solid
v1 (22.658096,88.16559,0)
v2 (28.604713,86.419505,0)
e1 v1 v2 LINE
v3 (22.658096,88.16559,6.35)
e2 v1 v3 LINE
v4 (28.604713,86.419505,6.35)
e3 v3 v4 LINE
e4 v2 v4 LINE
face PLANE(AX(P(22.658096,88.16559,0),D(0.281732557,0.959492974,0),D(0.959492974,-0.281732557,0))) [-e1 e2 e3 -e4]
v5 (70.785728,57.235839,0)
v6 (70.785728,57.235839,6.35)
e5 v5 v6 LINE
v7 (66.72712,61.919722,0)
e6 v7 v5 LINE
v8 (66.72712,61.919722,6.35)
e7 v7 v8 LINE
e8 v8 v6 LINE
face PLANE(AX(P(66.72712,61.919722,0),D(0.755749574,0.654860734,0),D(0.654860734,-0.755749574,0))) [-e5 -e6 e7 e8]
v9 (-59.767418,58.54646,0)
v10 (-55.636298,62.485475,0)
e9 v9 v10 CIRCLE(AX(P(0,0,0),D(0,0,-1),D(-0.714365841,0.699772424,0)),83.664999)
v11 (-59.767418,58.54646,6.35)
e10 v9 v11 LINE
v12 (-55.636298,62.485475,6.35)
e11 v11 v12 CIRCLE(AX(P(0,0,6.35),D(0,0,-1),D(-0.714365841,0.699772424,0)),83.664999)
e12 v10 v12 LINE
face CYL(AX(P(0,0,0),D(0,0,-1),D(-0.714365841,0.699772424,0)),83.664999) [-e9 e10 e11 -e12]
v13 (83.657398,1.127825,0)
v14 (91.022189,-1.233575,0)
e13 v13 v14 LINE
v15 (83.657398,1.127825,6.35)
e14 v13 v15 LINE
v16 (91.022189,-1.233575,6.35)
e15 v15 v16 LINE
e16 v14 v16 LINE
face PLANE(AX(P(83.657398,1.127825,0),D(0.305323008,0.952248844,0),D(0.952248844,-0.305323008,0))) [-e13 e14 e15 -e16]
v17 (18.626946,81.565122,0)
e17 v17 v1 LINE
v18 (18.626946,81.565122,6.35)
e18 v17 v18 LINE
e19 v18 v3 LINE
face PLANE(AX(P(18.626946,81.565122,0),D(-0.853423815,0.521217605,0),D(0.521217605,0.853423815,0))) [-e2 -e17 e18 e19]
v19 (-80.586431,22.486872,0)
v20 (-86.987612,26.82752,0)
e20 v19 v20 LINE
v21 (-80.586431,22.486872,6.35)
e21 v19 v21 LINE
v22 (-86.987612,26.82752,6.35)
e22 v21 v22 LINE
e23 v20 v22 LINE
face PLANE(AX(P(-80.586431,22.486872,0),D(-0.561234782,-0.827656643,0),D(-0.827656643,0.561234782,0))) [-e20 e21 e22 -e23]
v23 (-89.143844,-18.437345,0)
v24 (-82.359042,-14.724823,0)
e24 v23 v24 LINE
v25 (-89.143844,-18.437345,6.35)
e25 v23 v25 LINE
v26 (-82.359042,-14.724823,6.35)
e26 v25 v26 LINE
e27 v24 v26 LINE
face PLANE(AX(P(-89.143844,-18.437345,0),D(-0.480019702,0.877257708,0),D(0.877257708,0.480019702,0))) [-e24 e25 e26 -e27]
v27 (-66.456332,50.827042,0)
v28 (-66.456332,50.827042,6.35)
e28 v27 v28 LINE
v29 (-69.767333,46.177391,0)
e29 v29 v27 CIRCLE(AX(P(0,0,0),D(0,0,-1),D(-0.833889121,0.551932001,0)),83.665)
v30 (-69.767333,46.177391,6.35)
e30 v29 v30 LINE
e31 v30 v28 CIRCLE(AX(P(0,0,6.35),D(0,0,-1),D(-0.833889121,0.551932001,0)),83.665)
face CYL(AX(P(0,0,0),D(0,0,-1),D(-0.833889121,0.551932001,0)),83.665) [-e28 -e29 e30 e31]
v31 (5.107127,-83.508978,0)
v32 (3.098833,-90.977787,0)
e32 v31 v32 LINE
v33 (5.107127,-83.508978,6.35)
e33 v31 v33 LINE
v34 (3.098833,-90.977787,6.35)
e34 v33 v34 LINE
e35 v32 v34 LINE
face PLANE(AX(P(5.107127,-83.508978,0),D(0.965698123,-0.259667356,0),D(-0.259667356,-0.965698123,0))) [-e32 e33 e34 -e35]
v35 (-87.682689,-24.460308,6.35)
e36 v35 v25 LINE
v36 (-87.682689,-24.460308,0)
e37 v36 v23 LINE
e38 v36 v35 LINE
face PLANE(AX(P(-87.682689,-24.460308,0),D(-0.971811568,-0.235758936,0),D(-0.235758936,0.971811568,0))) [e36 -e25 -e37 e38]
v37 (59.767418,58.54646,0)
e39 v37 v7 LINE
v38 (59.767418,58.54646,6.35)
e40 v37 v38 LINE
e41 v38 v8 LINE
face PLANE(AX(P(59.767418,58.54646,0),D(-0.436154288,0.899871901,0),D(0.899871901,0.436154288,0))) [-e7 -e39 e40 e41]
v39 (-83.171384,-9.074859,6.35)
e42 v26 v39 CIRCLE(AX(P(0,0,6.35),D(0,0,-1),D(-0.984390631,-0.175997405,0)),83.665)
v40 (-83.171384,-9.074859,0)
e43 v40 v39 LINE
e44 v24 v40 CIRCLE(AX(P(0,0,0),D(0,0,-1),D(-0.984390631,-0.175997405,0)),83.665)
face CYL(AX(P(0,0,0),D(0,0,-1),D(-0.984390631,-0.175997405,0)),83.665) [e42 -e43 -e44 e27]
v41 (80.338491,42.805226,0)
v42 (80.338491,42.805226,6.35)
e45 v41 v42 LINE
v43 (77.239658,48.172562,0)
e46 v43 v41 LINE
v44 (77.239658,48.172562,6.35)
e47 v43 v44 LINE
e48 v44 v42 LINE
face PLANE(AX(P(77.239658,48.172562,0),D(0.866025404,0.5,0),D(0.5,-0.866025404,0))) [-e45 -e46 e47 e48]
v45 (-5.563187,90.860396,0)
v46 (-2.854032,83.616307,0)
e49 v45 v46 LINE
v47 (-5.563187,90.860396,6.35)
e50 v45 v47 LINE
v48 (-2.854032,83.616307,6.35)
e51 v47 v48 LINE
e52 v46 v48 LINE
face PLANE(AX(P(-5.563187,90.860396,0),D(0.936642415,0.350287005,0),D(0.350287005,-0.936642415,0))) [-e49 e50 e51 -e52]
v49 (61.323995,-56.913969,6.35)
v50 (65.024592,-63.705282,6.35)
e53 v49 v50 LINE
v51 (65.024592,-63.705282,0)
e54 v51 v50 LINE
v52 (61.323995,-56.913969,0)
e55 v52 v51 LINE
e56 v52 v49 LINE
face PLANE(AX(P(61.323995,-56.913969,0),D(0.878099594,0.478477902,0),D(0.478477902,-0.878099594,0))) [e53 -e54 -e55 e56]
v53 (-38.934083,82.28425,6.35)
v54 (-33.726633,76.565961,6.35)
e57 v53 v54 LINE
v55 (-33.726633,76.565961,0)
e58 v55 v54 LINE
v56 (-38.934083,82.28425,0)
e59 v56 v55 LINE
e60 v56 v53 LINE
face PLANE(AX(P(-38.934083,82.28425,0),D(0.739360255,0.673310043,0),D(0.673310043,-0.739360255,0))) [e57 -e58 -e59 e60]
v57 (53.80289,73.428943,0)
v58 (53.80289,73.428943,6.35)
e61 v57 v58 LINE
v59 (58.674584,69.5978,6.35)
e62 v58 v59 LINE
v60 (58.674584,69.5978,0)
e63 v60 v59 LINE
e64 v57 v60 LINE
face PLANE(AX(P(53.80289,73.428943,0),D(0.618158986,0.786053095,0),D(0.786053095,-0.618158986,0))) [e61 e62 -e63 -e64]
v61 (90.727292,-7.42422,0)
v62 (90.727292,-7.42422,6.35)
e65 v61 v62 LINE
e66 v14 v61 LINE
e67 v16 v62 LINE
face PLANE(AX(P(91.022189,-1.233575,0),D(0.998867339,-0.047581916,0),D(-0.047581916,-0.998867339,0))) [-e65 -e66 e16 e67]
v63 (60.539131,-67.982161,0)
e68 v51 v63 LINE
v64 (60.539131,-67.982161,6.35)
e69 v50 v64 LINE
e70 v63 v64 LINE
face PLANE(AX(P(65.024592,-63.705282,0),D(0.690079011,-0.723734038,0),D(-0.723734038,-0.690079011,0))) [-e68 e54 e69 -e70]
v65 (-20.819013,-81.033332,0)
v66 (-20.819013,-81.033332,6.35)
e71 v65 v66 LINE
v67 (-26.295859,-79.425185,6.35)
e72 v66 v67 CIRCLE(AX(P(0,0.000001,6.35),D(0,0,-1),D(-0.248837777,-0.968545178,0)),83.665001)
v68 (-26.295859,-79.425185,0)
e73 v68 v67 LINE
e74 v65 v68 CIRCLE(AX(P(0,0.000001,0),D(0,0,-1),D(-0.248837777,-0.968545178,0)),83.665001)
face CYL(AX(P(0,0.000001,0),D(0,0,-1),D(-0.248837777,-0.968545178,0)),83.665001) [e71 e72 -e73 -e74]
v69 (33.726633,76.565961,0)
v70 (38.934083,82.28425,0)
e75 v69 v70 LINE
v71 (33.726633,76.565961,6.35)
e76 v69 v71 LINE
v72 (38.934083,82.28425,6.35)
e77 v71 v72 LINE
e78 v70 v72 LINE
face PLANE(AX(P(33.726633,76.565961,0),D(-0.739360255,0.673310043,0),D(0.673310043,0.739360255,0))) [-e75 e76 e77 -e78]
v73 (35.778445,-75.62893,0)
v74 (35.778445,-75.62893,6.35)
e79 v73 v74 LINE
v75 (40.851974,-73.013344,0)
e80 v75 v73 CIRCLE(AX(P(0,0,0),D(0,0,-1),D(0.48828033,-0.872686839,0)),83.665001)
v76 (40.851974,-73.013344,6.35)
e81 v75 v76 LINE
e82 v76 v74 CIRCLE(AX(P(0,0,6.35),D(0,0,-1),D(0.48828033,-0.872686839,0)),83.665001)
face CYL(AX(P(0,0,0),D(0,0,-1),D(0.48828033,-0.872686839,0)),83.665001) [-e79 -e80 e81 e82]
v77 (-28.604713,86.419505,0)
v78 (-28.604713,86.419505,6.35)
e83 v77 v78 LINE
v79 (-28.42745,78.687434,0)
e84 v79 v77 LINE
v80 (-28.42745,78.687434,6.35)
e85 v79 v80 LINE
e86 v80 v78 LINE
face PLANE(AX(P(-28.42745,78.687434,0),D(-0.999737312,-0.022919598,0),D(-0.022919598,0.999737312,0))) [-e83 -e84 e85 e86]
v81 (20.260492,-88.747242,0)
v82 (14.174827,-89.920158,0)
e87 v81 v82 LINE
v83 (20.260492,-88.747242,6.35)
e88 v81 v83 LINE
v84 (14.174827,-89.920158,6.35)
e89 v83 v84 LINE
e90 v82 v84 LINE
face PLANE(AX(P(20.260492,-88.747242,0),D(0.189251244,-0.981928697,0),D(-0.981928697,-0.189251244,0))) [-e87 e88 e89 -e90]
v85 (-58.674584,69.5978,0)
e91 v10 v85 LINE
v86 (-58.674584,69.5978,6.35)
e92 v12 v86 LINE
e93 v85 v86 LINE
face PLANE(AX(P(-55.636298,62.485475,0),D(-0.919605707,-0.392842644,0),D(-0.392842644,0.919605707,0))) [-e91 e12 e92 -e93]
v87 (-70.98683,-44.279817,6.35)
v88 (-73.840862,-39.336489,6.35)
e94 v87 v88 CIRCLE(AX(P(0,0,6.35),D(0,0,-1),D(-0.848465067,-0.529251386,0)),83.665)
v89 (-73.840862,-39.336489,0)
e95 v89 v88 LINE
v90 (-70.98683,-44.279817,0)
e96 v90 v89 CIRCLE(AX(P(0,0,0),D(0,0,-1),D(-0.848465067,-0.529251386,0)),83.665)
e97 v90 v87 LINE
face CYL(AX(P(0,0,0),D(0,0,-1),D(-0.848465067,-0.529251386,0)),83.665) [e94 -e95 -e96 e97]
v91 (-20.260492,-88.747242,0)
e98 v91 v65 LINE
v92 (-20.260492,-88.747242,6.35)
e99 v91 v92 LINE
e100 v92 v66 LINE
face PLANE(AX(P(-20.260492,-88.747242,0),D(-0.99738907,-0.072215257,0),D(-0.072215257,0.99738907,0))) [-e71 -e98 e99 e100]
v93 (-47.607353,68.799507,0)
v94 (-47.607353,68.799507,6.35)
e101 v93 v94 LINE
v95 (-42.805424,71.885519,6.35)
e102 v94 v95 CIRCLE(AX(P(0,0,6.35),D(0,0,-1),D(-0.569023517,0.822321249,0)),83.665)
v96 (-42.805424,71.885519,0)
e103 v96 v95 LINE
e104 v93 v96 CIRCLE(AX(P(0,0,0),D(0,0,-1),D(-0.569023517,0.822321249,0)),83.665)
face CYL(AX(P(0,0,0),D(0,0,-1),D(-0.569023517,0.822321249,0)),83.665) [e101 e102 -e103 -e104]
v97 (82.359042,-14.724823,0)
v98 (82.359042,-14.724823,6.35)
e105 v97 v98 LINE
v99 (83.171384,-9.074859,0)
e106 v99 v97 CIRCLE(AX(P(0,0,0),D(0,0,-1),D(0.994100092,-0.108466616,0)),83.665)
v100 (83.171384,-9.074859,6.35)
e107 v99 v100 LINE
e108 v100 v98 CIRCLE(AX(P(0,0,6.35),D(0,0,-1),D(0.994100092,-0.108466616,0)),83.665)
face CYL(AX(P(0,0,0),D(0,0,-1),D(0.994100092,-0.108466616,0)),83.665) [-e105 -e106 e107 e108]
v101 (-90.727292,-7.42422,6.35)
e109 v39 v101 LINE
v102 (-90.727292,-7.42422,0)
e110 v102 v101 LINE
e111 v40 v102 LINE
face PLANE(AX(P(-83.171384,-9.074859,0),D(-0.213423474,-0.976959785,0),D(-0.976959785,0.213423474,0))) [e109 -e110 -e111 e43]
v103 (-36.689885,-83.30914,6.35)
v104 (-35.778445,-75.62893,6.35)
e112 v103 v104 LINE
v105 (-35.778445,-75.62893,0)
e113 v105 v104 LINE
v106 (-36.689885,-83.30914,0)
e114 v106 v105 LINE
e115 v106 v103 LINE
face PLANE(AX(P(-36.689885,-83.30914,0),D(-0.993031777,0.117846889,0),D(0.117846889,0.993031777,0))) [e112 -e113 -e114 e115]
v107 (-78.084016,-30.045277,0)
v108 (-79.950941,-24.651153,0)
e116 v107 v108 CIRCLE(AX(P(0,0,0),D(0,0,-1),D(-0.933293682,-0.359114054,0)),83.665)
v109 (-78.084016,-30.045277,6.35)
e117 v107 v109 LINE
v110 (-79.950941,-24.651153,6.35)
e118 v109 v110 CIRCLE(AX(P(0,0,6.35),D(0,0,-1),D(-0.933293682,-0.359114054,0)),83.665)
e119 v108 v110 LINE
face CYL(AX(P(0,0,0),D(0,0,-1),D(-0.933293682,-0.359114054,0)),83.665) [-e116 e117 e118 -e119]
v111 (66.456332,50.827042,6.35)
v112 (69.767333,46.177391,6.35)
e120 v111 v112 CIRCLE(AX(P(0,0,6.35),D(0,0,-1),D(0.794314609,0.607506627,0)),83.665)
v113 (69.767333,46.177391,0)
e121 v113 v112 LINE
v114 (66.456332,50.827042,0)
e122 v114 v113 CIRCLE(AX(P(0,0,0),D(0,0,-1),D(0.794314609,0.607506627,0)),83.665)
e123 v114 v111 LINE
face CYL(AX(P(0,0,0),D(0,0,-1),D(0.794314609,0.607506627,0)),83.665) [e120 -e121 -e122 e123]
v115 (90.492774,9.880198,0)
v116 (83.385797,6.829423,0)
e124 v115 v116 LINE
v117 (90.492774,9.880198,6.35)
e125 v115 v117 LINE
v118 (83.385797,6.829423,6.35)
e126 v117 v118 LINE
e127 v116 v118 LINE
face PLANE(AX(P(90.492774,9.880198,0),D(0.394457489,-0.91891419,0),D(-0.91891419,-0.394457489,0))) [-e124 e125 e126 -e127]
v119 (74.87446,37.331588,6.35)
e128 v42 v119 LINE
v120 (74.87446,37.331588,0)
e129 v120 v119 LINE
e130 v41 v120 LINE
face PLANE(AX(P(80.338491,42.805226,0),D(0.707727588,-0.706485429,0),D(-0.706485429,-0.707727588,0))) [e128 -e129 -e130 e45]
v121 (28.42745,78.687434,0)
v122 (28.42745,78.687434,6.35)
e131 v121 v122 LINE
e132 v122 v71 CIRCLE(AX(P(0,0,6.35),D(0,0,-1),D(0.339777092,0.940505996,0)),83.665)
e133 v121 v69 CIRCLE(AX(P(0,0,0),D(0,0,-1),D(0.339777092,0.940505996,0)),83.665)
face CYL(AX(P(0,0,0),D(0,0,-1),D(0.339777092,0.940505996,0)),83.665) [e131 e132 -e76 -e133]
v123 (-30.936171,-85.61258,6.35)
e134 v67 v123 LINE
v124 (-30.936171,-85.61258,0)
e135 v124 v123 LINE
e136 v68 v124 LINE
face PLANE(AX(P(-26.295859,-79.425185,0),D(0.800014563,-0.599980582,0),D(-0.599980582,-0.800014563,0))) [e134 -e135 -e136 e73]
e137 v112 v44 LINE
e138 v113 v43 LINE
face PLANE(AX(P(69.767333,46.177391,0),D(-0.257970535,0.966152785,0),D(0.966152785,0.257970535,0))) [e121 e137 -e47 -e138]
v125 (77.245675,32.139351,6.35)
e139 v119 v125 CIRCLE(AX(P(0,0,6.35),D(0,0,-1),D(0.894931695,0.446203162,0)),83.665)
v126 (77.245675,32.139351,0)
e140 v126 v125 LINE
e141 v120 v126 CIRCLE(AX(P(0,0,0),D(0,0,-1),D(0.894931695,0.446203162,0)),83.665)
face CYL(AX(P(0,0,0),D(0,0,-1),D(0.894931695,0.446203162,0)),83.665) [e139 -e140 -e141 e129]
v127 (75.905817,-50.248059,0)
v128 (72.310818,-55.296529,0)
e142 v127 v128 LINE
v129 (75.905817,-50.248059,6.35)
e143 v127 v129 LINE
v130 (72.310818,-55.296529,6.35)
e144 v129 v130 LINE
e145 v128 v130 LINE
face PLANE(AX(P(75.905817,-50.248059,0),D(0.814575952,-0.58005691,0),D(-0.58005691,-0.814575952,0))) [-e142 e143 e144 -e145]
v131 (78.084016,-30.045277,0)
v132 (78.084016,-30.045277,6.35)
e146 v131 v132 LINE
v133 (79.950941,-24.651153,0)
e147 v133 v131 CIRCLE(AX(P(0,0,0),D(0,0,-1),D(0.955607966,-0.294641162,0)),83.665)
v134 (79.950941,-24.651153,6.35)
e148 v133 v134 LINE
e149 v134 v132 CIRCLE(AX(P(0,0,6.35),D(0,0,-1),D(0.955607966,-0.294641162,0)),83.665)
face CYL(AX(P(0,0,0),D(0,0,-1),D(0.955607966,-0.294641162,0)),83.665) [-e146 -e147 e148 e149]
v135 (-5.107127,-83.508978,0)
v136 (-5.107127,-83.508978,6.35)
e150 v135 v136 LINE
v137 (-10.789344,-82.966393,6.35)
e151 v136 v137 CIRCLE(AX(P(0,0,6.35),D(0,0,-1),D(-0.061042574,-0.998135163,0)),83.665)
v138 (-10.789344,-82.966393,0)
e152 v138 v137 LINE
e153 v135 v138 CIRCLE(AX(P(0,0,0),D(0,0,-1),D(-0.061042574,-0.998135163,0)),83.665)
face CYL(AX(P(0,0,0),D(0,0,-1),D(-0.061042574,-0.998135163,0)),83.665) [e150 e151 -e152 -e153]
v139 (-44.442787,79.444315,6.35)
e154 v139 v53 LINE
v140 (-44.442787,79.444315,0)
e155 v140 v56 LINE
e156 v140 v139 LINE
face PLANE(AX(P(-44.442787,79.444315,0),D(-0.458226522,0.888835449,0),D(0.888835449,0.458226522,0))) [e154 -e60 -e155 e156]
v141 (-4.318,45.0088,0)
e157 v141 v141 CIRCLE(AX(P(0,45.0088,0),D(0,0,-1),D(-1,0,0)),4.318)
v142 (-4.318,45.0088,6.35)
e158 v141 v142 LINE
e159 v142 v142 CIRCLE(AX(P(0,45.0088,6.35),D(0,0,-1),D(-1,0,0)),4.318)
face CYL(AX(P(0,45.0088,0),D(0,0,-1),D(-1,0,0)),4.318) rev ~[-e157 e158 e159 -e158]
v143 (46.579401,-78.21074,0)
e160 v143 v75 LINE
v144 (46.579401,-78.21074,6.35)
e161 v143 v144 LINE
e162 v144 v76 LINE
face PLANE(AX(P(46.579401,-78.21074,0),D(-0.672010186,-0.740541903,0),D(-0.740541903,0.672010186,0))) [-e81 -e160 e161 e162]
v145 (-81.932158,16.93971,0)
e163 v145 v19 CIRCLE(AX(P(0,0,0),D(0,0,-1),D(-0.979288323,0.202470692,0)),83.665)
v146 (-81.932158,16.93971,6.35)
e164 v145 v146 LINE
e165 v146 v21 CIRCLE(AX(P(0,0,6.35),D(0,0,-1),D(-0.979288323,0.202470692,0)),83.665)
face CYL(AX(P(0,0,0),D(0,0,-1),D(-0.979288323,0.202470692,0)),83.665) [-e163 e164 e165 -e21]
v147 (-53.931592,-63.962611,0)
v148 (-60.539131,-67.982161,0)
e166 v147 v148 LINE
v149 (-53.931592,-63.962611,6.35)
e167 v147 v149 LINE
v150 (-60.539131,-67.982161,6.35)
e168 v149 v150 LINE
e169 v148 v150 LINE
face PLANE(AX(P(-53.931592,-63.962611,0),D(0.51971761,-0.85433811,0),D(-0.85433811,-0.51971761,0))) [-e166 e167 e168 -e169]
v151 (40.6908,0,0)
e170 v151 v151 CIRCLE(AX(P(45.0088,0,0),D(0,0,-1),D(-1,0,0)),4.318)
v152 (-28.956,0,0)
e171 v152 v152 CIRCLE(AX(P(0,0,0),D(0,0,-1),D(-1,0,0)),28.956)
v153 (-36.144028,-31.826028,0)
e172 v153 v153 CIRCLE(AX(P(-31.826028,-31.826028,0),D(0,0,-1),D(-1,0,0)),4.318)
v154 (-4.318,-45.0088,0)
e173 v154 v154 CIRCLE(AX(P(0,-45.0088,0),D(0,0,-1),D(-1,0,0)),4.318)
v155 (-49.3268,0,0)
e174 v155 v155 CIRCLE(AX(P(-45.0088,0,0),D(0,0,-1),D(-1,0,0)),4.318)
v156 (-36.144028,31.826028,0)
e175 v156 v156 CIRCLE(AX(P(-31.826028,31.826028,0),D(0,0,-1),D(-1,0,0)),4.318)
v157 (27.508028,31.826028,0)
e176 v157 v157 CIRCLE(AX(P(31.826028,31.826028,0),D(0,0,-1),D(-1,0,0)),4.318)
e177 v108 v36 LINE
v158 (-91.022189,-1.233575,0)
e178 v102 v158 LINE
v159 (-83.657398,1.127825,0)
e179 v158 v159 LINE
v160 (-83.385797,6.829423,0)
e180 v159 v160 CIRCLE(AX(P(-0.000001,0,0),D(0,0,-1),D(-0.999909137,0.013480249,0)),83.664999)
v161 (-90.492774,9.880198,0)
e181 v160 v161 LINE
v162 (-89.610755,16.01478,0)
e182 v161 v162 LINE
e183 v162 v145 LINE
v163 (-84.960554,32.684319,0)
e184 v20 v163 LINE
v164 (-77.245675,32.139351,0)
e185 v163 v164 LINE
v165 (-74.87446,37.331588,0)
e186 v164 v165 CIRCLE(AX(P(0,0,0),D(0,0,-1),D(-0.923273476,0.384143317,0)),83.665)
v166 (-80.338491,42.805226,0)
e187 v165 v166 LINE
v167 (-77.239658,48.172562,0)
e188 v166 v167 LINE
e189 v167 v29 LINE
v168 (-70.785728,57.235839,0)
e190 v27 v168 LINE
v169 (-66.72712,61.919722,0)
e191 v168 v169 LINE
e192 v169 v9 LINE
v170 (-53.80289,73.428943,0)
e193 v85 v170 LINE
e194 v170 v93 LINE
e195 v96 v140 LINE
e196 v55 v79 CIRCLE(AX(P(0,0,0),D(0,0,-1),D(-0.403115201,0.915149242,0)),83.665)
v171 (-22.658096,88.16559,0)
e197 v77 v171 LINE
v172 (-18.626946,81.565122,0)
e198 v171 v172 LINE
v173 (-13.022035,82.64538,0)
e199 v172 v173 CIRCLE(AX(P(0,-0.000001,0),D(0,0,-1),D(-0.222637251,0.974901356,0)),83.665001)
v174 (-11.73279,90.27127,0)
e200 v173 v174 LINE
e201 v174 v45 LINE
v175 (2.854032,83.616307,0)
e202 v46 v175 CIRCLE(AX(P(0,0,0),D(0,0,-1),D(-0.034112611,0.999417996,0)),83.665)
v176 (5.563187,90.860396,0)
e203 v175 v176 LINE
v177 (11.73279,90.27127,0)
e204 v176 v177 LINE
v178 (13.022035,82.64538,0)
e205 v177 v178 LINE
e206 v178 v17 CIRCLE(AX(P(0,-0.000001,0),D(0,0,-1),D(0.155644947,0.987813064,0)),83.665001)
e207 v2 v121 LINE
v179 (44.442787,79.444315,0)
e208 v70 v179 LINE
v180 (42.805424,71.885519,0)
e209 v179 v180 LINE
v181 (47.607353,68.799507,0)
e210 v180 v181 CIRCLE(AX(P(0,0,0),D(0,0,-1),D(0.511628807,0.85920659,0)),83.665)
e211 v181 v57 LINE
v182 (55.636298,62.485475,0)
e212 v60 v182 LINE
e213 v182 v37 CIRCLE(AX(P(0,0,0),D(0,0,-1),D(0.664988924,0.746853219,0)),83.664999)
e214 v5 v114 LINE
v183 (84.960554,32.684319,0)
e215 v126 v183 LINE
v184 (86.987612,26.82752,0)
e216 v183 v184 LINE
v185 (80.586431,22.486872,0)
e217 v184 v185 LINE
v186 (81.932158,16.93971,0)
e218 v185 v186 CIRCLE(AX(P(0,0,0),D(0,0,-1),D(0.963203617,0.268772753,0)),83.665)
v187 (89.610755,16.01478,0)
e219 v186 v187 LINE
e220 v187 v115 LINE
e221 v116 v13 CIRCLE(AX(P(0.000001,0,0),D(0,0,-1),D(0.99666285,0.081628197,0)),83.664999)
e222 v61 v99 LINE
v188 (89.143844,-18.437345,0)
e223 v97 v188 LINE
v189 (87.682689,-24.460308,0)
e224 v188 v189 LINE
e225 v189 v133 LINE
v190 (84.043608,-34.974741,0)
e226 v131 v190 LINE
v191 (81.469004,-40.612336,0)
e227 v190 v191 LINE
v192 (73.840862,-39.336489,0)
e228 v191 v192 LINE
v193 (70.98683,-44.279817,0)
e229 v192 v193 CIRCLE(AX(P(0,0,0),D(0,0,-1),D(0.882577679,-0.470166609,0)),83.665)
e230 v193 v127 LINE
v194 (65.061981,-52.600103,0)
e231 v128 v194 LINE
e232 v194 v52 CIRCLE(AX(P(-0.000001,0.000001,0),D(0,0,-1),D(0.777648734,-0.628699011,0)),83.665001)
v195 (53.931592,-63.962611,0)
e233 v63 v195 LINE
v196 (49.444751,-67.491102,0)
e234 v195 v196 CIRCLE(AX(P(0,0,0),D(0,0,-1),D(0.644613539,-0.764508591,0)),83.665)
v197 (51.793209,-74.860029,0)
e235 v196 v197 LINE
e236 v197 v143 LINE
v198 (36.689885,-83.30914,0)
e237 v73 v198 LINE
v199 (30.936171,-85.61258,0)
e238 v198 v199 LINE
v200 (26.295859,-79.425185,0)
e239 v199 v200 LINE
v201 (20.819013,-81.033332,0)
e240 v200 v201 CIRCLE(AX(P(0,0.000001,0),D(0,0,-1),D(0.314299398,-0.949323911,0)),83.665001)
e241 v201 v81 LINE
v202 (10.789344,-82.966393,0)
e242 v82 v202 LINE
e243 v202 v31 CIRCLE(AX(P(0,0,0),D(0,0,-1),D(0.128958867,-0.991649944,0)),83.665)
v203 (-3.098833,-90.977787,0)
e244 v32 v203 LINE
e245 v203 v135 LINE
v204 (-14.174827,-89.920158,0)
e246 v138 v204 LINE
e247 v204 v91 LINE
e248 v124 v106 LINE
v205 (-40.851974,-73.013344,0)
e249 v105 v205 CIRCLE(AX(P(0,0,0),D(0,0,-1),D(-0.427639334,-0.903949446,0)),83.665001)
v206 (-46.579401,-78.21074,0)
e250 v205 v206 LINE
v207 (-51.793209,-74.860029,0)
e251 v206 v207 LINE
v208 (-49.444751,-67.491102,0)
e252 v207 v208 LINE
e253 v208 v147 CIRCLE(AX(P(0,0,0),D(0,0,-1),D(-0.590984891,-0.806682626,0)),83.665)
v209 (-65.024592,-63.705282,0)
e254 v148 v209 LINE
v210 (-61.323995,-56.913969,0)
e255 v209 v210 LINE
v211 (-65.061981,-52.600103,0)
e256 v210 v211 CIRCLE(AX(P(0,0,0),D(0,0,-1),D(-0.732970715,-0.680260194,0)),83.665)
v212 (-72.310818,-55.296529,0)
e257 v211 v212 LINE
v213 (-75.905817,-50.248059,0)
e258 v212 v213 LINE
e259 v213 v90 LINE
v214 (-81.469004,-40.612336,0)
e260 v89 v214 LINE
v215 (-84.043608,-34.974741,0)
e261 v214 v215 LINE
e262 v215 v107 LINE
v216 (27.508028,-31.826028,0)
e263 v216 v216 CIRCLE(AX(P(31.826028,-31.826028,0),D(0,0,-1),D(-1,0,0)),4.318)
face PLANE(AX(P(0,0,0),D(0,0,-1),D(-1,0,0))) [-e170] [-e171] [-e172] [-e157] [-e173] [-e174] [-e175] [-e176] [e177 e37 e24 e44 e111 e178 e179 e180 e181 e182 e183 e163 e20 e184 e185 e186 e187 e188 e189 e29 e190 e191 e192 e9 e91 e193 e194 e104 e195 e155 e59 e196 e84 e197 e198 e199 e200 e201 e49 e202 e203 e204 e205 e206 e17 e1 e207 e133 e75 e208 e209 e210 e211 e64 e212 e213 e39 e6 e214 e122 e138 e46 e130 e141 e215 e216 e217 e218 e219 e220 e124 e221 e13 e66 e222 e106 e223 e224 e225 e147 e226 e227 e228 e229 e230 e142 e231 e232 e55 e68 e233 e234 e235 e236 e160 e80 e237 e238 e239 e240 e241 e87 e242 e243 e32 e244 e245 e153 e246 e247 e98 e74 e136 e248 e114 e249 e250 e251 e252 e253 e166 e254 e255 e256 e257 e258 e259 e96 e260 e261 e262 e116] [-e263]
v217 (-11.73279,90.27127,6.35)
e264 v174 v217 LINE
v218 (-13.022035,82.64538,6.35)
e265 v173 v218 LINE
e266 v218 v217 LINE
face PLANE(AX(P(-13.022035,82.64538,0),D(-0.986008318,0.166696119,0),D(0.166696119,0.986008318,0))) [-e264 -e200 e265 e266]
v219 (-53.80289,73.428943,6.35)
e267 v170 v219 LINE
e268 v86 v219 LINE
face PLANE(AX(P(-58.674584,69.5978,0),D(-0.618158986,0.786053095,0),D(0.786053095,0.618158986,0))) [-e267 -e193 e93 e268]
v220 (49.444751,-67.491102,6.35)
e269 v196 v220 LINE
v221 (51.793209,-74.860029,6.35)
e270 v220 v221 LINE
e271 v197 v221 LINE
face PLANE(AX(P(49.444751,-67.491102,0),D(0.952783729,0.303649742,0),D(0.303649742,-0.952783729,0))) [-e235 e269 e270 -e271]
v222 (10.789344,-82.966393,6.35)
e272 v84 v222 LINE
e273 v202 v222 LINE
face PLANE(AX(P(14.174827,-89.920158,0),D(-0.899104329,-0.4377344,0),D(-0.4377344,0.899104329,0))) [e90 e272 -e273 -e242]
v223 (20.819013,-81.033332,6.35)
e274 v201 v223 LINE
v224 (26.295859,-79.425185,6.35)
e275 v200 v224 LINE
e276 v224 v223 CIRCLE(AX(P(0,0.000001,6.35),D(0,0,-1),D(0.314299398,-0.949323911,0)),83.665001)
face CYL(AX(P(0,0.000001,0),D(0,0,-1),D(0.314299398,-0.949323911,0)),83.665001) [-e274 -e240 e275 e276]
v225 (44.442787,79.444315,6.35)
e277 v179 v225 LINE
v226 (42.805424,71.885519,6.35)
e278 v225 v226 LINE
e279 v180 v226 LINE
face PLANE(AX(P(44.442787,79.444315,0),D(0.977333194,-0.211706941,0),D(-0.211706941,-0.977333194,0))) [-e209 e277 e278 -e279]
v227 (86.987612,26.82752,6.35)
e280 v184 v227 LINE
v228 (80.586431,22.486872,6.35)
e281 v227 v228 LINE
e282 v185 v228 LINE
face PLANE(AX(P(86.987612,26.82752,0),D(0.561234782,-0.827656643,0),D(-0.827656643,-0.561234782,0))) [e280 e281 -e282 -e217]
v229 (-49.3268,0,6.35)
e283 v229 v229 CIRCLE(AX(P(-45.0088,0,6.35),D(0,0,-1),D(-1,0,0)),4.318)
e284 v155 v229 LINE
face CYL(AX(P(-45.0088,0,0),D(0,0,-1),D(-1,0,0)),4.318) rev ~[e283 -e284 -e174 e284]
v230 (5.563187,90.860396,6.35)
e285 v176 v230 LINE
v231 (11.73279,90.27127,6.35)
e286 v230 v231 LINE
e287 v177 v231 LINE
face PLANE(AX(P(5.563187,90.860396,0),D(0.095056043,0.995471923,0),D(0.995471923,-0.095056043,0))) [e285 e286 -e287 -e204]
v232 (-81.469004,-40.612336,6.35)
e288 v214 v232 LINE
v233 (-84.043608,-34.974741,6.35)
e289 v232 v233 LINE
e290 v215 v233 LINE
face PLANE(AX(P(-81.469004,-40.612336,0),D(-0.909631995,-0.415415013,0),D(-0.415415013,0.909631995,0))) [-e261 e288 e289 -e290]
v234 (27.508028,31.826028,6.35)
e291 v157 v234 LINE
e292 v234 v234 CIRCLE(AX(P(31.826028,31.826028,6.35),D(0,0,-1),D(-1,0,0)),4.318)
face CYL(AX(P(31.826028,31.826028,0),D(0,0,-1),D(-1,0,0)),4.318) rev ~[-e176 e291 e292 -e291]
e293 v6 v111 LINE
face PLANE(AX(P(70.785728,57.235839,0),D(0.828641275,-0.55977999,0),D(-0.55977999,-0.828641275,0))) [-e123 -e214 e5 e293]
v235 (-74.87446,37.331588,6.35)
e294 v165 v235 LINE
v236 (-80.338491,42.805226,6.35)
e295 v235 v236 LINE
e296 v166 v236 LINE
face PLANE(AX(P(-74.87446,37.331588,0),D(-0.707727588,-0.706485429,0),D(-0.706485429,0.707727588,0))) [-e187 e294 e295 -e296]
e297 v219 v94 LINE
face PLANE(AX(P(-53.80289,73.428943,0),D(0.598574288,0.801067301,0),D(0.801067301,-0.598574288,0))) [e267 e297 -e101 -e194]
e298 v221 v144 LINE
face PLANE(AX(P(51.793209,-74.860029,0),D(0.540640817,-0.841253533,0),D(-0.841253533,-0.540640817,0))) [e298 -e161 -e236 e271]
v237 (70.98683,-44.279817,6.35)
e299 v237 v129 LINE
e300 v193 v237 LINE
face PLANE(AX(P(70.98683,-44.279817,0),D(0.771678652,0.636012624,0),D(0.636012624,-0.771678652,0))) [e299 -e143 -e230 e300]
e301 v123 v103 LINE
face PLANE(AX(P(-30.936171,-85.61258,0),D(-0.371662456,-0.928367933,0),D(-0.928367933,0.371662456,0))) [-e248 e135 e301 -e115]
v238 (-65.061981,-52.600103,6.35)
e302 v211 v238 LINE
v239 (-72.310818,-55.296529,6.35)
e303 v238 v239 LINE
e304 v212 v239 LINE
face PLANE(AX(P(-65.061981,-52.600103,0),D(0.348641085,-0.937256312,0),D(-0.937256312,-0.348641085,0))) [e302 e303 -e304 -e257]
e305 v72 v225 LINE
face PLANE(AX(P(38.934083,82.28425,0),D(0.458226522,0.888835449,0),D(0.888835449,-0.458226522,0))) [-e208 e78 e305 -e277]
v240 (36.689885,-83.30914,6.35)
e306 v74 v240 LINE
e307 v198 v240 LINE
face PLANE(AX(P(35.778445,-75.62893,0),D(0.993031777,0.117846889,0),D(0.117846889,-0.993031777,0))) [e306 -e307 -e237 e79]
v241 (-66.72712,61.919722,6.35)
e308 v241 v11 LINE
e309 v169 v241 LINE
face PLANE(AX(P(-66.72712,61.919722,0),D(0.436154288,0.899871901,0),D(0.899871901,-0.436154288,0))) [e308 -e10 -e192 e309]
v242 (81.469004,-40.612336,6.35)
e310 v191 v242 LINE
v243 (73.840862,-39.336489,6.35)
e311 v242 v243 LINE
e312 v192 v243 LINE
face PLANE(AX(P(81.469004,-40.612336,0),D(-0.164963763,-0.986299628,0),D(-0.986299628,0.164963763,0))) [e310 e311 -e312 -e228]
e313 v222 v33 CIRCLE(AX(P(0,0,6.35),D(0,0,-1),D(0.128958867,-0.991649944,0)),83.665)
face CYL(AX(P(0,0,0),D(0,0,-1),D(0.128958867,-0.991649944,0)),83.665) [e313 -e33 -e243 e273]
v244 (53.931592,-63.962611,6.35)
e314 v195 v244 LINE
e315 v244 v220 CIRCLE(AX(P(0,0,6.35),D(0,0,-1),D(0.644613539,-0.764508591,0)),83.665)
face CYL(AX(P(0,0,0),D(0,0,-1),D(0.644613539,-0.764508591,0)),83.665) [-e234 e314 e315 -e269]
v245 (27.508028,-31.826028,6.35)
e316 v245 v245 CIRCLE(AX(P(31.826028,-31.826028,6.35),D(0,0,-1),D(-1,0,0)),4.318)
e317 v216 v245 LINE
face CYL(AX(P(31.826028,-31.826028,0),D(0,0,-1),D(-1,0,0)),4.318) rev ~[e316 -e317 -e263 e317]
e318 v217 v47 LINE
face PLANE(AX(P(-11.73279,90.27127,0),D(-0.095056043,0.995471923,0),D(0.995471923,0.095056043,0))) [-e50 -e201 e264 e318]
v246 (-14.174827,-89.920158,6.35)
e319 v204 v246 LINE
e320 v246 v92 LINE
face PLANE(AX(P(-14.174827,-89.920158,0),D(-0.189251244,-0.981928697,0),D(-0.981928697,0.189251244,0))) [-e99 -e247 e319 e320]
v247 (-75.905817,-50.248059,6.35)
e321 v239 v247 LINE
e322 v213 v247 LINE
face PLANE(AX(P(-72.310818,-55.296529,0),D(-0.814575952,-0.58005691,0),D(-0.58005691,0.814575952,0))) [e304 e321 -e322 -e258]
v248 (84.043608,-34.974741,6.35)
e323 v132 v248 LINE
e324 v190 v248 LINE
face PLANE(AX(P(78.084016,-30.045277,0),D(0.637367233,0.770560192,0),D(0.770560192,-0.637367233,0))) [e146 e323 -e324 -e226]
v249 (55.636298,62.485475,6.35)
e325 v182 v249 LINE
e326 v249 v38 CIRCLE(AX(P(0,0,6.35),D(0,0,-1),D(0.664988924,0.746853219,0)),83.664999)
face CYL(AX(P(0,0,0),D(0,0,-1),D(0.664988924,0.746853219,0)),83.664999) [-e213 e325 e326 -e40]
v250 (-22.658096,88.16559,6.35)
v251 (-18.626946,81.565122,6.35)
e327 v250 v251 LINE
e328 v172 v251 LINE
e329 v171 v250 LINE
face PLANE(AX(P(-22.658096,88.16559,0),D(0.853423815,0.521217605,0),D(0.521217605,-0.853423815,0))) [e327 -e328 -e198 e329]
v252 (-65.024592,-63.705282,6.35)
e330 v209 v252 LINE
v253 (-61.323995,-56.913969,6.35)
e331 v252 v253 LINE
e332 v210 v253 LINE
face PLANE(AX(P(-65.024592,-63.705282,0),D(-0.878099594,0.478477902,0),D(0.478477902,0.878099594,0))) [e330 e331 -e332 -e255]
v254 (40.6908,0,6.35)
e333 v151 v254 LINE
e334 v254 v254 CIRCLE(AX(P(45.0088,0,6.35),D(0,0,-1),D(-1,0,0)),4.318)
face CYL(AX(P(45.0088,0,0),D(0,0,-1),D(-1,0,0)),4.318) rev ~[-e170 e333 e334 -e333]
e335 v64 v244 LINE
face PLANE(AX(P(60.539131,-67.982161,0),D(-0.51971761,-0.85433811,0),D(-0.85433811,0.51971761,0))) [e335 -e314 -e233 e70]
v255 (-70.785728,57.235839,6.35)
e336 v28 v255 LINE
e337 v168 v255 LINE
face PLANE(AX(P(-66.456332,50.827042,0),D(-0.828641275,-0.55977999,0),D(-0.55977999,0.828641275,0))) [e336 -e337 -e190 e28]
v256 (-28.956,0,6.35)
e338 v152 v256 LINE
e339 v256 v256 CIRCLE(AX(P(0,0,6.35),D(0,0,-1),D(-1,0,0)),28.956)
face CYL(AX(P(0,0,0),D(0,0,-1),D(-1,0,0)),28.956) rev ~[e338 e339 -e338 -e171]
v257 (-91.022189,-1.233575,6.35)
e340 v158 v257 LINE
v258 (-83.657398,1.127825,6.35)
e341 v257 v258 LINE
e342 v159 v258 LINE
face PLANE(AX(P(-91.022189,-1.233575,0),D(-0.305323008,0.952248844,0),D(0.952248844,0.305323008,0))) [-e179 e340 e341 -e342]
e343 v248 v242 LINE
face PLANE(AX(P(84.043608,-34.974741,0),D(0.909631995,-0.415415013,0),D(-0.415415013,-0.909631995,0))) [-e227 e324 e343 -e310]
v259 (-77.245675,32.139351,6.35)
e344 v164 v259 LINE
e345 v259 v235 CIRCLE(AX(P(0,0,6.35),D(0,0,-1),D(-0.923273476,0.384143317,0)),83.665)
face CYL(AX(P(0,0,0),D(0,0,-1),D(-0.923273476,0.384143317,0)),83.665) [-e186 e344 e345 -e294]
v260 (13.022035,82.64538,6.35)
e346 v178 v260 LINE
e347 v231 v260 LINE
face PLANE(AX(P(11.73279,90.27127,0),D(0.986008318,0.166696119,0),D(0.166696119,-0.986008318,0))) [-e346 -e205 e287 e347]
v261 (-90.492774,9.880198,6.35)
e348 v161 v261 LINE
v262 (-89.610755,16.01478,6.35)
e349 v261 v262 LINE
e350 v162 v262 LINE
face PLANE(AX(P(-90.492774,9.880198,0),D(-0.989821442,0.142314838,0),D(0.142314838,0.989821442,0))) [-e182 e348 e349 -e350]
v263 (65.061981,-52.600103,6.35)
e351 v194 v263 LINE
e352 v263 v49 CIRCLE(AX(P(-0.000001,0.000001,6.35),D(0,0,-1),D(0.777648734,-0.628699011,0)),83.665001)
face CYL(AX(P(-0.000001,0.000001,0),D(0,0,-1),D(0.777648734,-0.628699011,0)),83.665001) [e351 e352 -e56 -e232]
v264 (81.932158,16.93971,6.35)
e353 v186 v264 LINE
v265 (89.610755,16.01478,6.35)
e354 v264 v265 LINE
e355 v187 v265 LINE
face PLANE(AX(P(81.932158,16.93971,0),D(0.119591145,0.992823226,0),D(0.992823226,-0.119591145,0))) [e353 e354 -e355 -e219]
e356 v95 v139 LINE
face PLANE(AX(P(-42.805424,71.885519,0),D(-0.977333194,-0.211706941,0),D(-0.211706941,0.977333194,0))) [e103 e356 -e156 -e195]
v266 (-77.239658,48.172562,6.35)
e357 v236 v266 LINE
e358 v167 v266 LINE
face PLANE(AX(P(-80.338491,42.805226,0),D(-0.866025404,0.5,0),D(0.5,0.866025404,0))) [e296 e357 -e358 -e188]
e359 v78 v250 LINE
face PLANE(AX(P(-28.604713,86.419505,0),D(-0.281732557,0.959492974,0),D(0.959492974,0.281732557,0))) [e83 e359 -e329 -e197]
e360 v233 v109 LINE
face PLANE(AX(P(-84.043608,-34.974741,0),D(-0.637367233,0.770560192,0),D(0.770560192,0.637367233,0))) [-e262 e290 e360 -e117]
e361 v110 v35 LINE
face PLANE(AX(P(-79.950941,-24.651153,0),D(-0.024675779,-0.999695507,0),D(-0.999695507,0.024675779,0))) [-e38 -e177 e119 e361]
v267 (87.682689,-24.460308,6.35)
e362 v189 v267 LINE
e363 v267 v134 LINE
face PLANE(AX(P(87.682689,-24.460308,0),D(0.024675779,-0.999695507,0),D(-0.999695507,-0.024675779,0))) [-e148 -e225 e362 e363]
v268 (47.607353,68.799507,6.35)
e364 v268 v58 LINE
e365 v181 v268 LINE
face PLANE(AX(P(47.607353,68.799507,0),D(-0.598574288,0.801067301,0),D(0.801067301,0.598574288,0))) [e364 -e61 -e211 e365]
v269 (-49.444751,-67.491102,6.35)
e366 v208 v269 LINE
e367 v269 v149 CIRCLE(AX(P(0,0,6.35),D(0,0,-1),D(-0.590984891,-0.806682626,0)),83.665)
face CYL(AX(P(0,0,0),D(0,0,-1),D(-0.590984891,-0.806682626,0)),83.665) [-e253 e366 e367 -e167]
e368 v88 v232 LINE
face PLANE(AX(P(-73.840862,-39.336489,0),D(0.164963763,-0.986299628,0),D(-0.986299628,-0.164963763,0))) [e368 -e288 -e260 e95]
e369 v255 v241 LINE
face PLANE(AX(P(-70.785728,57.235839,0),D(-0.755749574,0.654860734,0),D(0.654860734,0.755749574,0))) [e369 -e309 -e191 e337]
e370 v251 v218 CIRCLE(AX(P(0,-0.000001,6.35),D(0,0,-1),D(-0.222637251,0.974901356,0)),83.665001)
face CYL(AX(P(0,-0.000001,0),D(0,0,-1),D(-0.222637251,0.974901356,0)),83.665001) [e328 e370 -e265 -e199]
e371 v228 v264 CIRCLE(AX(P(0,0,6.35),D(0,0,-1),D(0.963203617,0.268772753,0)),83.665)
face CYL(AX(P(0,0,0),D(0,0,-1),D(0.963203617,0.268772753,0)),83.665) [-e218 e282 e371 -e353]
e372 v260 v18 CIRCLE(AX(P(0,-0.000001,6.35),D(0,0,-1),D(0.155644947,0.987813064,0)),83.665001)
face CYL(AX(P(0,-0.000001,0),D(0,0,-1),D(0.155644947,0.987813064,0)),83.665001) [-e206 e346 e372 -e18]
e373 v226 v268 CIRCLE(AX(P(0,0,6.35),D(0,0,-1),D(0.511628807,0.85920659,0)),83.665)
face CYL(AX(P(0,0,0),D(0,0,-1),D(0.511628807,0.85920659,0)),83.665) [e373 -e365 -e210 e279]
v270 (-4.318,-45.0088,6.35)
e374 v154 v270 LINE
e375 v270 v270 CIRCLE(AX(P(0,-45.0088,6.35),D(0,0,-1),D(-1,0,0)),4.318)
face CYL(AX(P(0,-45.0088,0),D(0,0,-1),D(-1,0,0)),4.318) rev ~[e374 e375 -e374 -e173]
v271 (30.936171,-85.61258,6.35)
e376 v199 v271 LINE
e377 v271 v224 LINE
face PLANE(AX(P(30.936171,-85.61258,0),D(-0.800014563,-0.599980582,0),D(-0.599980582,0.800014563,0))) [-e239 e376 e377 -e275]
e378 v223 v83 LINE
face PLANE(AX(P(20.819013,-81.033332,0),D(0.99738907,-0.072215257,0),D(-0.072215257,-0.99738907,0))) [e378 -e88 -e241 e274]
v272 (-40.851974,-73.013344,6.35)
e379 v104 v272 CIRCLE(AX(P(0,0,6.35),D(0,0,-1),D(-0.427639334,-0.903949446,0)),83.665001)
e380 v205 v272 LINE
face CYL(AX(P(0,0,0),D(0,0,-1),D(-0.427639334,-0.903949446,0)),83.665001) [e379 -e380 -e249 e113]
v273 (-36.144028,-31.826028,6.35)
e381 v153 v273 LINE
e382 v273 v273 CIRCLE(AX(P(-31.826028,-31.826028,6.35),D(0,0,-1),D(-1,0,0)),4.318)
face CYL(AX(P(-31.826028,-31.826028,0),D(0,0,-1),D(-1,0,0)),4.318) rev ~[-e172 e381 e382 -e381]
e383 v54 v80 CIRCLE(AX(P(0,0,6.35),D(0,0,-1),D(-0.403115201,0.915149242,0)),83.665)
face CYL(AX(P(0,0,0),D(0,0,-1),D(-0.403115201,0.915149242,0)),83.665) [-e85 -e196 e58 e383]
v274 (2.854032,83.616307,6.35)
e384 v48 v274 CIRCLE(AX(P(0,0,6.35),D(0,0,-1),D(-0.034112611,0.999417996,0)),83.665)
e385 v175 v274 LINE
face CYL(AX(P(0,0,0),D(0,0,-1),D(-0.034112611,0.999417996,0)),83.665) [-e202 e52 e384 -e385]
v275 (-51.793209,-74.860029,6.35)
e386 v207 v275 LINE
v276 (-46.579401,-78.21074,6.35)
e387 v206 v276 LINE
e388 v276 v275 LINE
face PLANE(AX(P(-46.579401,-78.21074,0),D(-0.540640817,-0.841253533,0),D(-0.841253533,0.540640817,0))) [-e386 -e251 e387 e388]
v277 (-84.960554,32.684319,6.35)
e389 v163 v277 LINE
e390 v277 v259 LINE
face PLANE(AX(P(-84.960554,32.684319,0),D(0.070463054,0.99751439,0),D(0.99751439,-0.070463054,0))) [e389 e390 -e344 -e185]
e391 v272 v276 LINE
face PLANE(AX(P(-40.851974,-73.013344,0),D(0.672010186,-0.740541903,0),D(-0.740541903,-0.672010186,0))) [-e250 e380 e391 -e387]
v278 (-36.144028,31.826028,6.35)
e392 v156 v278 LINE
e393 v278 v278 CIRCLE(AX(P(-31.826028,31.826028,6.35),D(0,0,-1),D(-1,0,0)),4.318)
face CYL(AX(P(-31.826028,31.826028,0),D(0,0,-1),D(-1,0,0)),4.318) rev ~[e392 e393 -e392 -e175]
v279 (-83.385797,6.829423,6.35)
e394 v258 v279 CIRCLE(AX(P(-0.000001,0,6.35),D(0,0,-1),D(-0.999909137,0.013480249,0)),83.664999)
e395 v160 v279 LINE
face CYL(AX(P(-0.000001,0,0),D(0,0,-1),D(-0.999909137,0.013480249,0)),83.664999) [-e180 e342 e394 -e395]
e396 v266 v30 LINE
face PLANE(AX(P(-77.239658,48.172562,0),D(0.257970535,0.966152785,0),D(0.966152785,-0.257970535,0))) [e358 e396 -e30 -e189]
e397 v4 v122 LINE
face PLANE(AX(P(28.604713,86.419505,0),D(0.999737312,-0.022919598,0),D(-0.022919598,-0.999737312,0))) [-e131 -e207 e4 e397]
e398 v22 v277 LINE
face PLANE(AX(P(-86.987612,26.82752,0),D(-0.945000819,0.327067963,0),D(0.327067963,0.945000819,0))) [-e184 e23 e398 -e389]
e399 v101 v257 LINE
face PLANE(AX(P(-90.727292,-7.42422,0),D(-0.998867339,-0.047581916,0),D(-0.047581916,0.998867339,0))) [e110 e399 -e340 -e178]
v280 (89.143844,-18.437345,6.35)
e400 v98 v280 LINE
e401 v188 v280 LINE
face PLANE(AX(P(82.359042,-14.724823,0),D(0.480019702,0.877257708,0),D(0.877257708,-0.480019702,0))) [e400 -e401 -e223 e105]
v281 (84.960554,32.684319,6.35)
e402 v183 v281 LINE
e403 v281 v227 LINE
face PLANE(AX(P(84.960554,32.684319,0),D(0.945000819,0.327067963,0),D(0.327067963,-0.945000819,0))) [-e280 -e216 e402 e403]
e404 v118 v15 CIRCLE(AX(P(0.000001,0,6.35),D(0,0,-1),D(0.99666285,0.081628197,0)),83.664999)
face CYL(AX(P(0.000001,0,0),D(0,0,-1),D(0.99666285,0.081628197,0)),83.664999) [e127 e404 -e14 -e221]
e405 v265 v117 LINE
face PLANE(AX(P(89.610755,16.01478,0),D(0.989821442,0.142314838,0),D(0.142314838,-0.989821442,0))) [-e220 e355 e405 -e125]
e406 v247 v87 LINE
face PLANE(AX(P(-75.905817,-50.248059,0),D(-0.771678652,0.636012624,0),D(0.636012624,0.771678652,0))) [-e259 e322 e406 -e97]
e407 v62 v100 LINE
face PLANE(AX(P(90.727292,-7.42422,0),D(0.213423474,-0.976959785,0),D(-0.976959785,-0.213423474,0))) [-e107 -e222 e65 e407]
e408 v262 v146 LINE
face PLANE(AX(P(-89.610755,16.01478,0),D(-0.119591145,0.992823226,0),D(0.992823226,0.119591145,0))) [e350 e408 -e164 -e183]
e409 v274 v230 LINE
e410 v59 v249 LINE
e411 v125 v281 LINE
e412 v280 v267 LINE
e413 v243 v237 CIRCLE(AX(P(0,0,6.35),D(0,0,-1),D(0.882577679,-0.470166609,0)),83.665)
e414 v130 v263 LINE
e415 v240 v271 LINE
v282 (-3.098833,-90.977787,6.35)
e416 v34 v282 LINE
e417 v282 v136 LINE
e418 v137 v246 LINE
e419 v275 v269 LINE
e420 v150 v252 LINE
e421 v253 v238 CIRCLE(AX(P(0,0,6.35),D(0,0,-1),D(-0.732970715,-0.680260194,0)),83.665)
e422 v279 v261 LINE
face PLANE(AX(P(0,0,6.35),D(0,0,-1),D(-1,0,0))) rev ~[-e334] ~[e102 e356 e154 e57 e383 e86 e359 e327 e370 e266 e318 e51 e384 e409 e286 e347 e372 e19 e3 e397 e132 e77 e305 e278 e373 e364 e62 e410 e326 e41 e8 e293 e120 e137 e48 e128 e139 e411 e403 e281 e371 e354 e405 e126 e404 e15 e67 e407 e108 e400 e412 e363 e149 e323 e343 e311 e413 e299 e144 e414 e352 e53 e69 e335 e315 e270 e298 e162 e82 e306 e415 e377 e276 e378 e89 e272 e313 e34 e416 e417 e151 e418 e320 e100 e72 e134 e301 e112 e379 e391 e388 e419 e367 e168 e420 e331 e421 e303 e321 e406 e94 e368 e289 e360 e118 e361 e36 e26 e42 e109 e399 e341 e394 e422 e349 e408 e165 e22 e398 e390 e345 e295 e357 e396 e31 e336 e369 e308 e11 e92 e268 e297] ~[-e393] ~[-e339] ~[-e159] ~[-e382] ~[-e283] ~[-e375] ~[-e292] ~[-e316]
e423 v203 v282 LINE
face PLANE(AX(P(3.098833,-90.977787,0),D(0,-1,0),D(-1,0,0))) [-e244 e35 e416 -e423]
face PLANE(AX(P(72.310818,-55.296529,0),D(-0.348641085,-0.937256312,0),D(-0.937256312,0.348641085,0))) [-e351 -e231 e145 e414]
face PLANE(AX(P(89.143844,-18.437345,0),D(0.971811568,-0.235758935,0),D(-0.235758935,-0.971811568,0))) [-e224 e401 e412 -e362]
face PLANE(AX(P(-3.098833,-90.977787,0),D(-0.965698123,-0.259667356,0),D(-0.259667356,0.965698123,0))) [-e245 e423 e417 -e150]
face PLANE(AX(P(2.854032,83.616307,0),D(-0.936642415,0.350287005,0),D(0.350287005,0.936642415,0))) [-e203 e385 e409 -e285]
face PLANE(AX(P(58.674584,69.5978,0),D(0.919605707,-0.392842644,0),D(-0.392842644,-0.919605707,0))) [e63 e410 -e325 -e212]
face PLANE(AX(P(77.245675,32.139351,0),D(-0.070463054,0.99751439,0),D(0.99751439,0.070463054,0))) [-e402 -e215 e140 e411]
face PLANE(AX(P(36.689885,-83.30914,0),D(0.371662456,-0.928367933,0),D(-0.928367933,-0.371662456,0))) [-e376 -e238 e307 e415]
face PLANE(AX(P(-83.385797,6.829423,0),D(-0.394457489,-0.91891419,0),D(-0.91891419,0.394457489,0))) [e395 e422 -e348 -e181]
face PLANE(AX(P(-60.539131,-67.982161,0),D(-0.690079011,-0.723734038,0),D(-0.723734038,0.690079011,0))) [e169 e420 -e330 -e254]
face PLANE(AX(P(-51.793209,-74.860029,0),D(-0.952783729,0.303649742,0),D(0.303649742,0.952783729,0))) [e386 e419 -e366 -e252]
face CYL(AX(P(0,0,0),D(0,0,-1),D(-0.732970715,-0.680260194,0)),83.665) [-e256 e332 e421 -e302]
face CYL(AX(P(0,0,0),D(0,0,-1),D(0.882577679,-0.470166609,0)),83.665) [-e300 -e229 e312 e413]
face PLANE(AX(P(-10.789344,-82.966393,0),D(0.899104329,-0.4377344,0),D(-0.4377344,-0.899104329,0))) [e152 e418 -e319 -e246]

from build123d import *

# Parameters (mm, degrees)
BOSS_EXTRUDE1_DEPTH = 6.35
SKETCH2_R           = 28.956
SKETCH2_R_2         = 4.318
CUT_EXTRUDE1_DEPTH  = 129.84998677


with BuildPart() as part:
    # Sketch1 → Boss-Extrude1 (new body)
    with BuildSketch(Plane.XY):
        with BuildLine():
            Line((2.85403164, 83.616306594), (5.563187423, 90.860395533))
            Line((5.563187423, 90.860395533), (11.732789539, 90.271269961))
            Line((11.732789539, 90.271269961), (13.022034501, 82.645380043))
            ThreePointArc((13.022034501, 82.645380043), (15.833705359, 82.153064456), (18.626945642, 81.565121964))
            Line((18.626945642, 81.565121964), (22.658096297, 88.165589676))
            Line((22.658096297, 88.165589676), (28.604712917, 86.419505493))
            Line((28.604712917, 86.419505493), (28.427450387, 78.687434127))
            ThreePointArc((28.427450387, 78.687434127), (31.095139353, 77.671903116), (33.726633297, 76.565961311))
            Line((33.726633297, 76.565961311), (38.934082535, 82.284249695))
            Line((38.934082535, 82.284249695), (44.442787442, 79.444314933))
            Line((44.442787442, 79.444314933), (42.805424149, 71.885519323))
            ThreePointArc((42.805424149, 71.885519323), (45.232713992, 70.383476824), (47.60735255, 68.799507325))
            Line((47.60735255, 68.799507325), (53.802889589, 73.42894254))
            Line((53.802889589, 73.42894254), (58.674583834, 69.597799841))
            Line((58.674583834, 69.597799841), (55.636298354, 62.485474556))
            ThreePointArc((55.636298354, 62.485474556), (57.735460496, 60.551208298), (59.767418042, 58.546459889))
            Line((59.767418042, 58.546459889), (66.727120031, 61.919722085))
            Line((66.727120031, 61.919722085), (70.785727891, 57.235838927))
            Line((70.785727891, 57.235838927), (66.456331777, 50.827041933))
            ThreePointArc((66.456331777, 50.827041933), (68.151497028, 48.530461339), (69.767333324, 46.177390852))
            Line((69.767333324, 46.177390852), (77.239658499, 48.172561544))
            Line((77.239658499, 48.172561544), (80.338491312, 42.805225668))
            Line((80.338491312, 42.805225668), (74.87446022, 37.331587587))
            ThreePointArc((74.87446022, 37.331587587), (76.104360891, 34.755697063), (77.245675402, 32.139350595))
            Line((77.245675402, 32.139350595), (84.960554463, 32.684319115))
            Line((84.960554463, 32.684319115), (86.987612337, 26.827520026))
            Line((86.987612337, 26.827520026), (80.586430587, 22.486872398))
            ThreePointArc((80.586430587, 22.486872398), (81.306614864, 19.724771339), (81.93215751, 16.939710469))
            Line((81.93215751, 16.939710469), (89.610754626, 16.014780236))
            Line((89.610754626, 16.014780236), (90.492774408, 9.880197911))
            Line((90.492774408, 9.880197911), (83.385797386, 6.829423052))
            ThreePointArc((83.385797386, 6.829423052), (83.570235933, 3.980940987), (83.657397973, 1.127825071))
            Line((83.657397973, 1.127825071), (91.022188639, -1.233574527))
            Line((91.022188639, -1.233574527), (90.727291835, -7.424220299))
            Line((90.727291835, -7.424220299), (83.171384209, -9.074859436))
            ThreePointArc((83.171384209, -9.074859436), (82.813410935, -11.906770944), (82.359042106, -14.724822863))
            Line((82.359042106, -14.724822863), (89.143843598, -18.437344692))
            Line((89.143843598, -18.437344692), (87.682688548, -24.460307843))
            Line((87.682688548, -24.460307843), (79.950940505, -24.651152861))
            ThreePointArc((79.950940505, -24.651152861), (79.063493498, -27.364141151), (78.084015873, -30.045277335))
            Line((78.084015873, -30.045277335), (84.043607787, -34.974741183))
            Line((84.043607787, -34.974741183), (81.469004441, -40.612336132))
            Line((81.469004441, -40.612336132), (73.840861501, -39.336489393))
            ThreePointArc((73.840861501, -39.336489393), (72.456015408, -41.8325), (70.986829861, -44.279817201))
            Line((70.986829861, -44.279817201), (75.905817018, -50.248059401))
            Line((75.905817018, -50.248059401), (72.310818249, -55.296528778))
            Line((72.310818249, -55.296528778), (65.061981372, -52.600102708))
            ThreePointArc((65.061981372, -52.600102708), (63.229788138, -54.788923305), (61.323994863, -56.913969103))
            Line((61.323994863, -56.913969103), (65.024592251, -63.705281833))
            Line((65.024592251, -63.705281833), (60.539130681, -67.982160801))
            Line((60.539130681, -67.982160801), (53.931591719, -63.962611264))
            ThreePointArc((53.931591719, -63.962611264), (51.718271582, -65.765132172), (49.444750912, -67.491101874))
            Line((49.444750912, -67.491101874), (51.7932093, -74.860029396))
            Line((51.7932093, -74.860029396), (46.579401197, -78.210740406))
            Line((46.579401197, -78.210740406), (40.851973824, -73.013344395))
            ThreePointArc((40.851973824, -73.013344395), (38.33752194, -74.364417812), (35.778444837, -75.628930378))
            Line((35.778444837, -75.628930378), (36.689884819, -83.309140451))
            Line((36.689884819, -83.309140451), (30.936170793, -85.612580077))
            Line((30.936170793, -85.612580077), (26.295859156, -79.425185025))
            ThreePointArc((26.295859156, -79.425185025), (23.571154368, -80.275979637), (20.819012545, -81.033332288))
            Line((20.819012545, -81.033332288), (20.260492306, -88.747242111))
            Line((20.260492306, -88.747242111), (14.174826572, -89.920158042))
            Line((14.174826572, -89.920158042), (10.789343625, -82.966392528))
            ThreePointArc((10.789343625, -82.966392528), (7.952863863, -83.286158402), (5.107126896, -83.508978439))
            Line((5.107126896, -83.508978439), (3.098832813, -90.977787212))
            Line((3.098832813, -90.977787212), (-3.098832812, -90.977787212))
            Line((-3.098832812, -90.977787212), (-5.107126896, -83.508978439))
            ThreePointArc((-5.107126896, -83.508978439), (-7.952863863, -83.286158402), (-10.789343625, -82.966392528))
            Line((-10.789343625, -82.966392528), (-14.174826572, -89.920158042))
            Line((-14.174826572, -89.920158042), (-20.260492306, -88.747242111))
            Line((-20.260492306, -88.747242111), (-20.819012545, -81.033332288))
            ThreePointArc((-20.819012545, -81.033332288), (-23.571154368, -80.275979637), (-26.295859156, -79.425185025))
            Line((-26.295859156, -79.425185025), (-30.936170793, -85.612580077))
            Line((-30.936170793, -85.612580077), (-36.689884818, -83.309140451))
            Line((-36.689884818, -83.309140451), (-35.778444837, -75.628930378))
            ThreePointArc((-35.778444837, -75.628930378), (-38.33752194, -74.364417812), (-40.851973824, -73.013344395))
            Line((-40.851973824, -73.013344395), (-46.579401197, -78.210740406))
            Line((-46.579401197, -78.210740406), (-51.7932093, -74.860029396))
            Line((-51.7932093, -74.860029396), (-49.444750912, -67.491101875))
            ThreePointArc((-49.444750912, -67.491101875), (-51.718271582, -65.765132172), (-53.931591719, -63.962611264))
            Line((-53.931591719, -63.962611264), (-60.539130681, -67.982160801))
            Line((-60.539130681, -67.982160801), (-65.024592251, -63.705281833))
            Line((-65.024592251, -63.705281833), (-61.323994863, -56.913969103))
            ThreePointArc((-61.323994863, -56.913969103), (-63.229788138, -54.788923306), (-65.061981372, -52.600102708))
            Line((-65.061981372, -52.600102708), (-72.310818249, -55.296528778))
            Line((-72.310818249, -55.296528778), (-75.905817018, -50.248059401))
            Line((-75.905817018, -50.248059401), (-70.986829861, -44.279817201))
            ThreePointArc((-70.986829861, -44.279817201), (-72.456015408, -41.8325), (-73.840861501, -39.336489393))
            Line((-73.840861501, -39.336489393), (-81.469004441, -40.612336132))
            Line((-81.469004441, -40.612336132), (-84.043607787, -34.974741183))
            Line((-84.043607787, -34.974741183), (-78.084015873, -30.045277335))
            ThreePointArc((-78.084015873, -30.045277335), (-79.063493498, -27.364141151), (-79.950940505, -24.651152861))
            Line((-79.950940505, -24.651152861), (-87.682688547, -24.460307844))
            Line((-87.682688547, -24.460307844), (-89.143843598, -18.437344693))
            Line((-89.143843598, -18.437344693), (-82.359042106, -14.724822863))
            ThreePointArc((-82.359042106, -14.724822863), (-82.813410935, -11.906770944), (-83.171384209, -9.074859436))
            Line((-83.171384209, -9.074859436), (-90.727291835, -7.424220299))
            Line((-90.727291835, -7.424220299), (-91.022188639, -1.233574527))
            Line((-91.022188639, -1.233574527), (-83.657397973, 1.127825071))
            ThreePointArc((-83.657397973, 1.127825071), (-83.570235933, 3.980940987), (-83.385797386, 6.829423052))
            Line((-83.385797386, 6.829423052), (-90.492774407, 9.880197911))
            Line((-90.492774407, 9.880197911), (-89.610754626, 16.014780236))
            Line((-89.610754626, 16.014780236), (-81.93215751, 16.939710469))
            ThreePointArc((-81.93215751, 16.939710469), (-81.306614864, 19.724771339), (-80.586430587, 22.486872398))
            Line((-80.586430587, 22.486872398), (-86.987612336, 26.827520026))
            Line((-86.987612336, 26.827520026), (-84.960554463, 32.684319115))
            Line((-84.960554463, 32.684319115), (-77.245675402, 32.139350595))
            ThreePointArc((-77.245675402, 32.139350595), (-76.104360891, 34.755697063), (-74.87446022, 37.331587587))
            Line((-74.87446022, 37.331587587), (-80.338491312, 42.805225668))
            Line((-80.338491312, 42.805225668), (-77.239658499, 48.172561544))
            Line((-77.239658499, 48.172561544), (-69.767333324, 46.177390852))
            ThreePointArc((-69.767333324, 46.177390852), (-68.151497028, 48.530461339), (-66.456331777, 50.827041933))
            Line((-66.456331777, 50.827041933), (-70.785727891, 57.235838927))
            Line((-70.785727891, 57.235838927), (-66.727120031, 61.919722085))
            Line((-66.727120031, 61.919722085), (-59.767418042, 58.546459889))
            ThreePointArc((-59.767418042, 58.546459889), (-57.735460496, 60.551208298), (-55.636298354, 62.485474556))
            Line((-55.636298354, 62.485474556), (-58.674583834, 69.597799841))
            Line((-58.674583834, 69.597799841), (-53.802889589, 73.42894254))
            Line((-53.802889589, 73.42894254), (-47.60735255, 68.799507325))
            ThreePointArc((-47.60735255, 68.799507325), (-45.232713992, 70.383476824), (-42.805424149, 71.885519323))
            Line((-42.805424149, 71.885519323), (-44.442787442, 79.444314933))
            Line((-44.442787442, 79.444314933), (-38.934082535, 82.284249695))
            Line((-38.934082535, 82.284249695), (-33.726633297, 76.565961311))
            ThreePointArc((-33.726633297, 76.565961311), (-31.095139353, 77.671903116), (-28.427450387, 78.687434127))
            Line((-28.427450387, 78.687434127), (-28.604712917, 86.419505493))
            Line((-28.604712917, 86.419505493), (-22.658096297, 88.165589676))
            Line((-22.658096297, 88.165589676), (-18.626945642, 81.565121964))
            ThreePointArc((-18.626945642, 81.565121964), (-15.833705359, 82.153064456), (-13.022034501, 82.645380043))
            Line((-13.022034501, 82.645380043), (-11.732789539, 90.271269961))
            Line((-11.732789539, 90.271269961), (-5.563187423, 90.860395533))
            Line((-5.563187423, 90.860395533), (-2.85403164, 83.616306594))
            ThreePointArc((-2.85403164, 83.616306594), (0, 83.665), (2.85403164, 83.616306594))
        make_face()
    extrude(amount=BOSS_EXTRUDE1_DEPTH)

    # Sketch2 → Cut-Extrude1 (cut, through all)
    with BuildSketch(Plane(origin=(0, 0, 0), x_dir=(-1, 0, 0), z_dir=(0, 0, -1))):
        Circle(SKETCH2_R)
        with Locations((0, 45.0088)):
            Circle(SKETCH2_R_2)
        with Locations((31.826027693, 31.826027693)):
            Circle(SKETCH2_R_2)
        with Locations((45.0088, 0)):
            Circle(SKETCH2_R_2)
        with Locations((31.826027693, -31.826027693)):
            Circle(SKETCH2_R_2)
        with Locations((0, -45.0088)):
            Circle(SKETCH2_R_2)
        with Locations((-31.826027693, -31.826027693)):
            Circle(SKETCH2_R_2)
        with Locations((-45.0088, 0)):
            Circle(SKETCH2_R_2)
        with Locations((-31.826027693, 31.826027693)):
            Circle(SKETCH2_R_2)
    extrude(amount=-CUT_EXTRUDE1_DEPTH, mode=Mode.SUBTRACT)


solid = part.part
